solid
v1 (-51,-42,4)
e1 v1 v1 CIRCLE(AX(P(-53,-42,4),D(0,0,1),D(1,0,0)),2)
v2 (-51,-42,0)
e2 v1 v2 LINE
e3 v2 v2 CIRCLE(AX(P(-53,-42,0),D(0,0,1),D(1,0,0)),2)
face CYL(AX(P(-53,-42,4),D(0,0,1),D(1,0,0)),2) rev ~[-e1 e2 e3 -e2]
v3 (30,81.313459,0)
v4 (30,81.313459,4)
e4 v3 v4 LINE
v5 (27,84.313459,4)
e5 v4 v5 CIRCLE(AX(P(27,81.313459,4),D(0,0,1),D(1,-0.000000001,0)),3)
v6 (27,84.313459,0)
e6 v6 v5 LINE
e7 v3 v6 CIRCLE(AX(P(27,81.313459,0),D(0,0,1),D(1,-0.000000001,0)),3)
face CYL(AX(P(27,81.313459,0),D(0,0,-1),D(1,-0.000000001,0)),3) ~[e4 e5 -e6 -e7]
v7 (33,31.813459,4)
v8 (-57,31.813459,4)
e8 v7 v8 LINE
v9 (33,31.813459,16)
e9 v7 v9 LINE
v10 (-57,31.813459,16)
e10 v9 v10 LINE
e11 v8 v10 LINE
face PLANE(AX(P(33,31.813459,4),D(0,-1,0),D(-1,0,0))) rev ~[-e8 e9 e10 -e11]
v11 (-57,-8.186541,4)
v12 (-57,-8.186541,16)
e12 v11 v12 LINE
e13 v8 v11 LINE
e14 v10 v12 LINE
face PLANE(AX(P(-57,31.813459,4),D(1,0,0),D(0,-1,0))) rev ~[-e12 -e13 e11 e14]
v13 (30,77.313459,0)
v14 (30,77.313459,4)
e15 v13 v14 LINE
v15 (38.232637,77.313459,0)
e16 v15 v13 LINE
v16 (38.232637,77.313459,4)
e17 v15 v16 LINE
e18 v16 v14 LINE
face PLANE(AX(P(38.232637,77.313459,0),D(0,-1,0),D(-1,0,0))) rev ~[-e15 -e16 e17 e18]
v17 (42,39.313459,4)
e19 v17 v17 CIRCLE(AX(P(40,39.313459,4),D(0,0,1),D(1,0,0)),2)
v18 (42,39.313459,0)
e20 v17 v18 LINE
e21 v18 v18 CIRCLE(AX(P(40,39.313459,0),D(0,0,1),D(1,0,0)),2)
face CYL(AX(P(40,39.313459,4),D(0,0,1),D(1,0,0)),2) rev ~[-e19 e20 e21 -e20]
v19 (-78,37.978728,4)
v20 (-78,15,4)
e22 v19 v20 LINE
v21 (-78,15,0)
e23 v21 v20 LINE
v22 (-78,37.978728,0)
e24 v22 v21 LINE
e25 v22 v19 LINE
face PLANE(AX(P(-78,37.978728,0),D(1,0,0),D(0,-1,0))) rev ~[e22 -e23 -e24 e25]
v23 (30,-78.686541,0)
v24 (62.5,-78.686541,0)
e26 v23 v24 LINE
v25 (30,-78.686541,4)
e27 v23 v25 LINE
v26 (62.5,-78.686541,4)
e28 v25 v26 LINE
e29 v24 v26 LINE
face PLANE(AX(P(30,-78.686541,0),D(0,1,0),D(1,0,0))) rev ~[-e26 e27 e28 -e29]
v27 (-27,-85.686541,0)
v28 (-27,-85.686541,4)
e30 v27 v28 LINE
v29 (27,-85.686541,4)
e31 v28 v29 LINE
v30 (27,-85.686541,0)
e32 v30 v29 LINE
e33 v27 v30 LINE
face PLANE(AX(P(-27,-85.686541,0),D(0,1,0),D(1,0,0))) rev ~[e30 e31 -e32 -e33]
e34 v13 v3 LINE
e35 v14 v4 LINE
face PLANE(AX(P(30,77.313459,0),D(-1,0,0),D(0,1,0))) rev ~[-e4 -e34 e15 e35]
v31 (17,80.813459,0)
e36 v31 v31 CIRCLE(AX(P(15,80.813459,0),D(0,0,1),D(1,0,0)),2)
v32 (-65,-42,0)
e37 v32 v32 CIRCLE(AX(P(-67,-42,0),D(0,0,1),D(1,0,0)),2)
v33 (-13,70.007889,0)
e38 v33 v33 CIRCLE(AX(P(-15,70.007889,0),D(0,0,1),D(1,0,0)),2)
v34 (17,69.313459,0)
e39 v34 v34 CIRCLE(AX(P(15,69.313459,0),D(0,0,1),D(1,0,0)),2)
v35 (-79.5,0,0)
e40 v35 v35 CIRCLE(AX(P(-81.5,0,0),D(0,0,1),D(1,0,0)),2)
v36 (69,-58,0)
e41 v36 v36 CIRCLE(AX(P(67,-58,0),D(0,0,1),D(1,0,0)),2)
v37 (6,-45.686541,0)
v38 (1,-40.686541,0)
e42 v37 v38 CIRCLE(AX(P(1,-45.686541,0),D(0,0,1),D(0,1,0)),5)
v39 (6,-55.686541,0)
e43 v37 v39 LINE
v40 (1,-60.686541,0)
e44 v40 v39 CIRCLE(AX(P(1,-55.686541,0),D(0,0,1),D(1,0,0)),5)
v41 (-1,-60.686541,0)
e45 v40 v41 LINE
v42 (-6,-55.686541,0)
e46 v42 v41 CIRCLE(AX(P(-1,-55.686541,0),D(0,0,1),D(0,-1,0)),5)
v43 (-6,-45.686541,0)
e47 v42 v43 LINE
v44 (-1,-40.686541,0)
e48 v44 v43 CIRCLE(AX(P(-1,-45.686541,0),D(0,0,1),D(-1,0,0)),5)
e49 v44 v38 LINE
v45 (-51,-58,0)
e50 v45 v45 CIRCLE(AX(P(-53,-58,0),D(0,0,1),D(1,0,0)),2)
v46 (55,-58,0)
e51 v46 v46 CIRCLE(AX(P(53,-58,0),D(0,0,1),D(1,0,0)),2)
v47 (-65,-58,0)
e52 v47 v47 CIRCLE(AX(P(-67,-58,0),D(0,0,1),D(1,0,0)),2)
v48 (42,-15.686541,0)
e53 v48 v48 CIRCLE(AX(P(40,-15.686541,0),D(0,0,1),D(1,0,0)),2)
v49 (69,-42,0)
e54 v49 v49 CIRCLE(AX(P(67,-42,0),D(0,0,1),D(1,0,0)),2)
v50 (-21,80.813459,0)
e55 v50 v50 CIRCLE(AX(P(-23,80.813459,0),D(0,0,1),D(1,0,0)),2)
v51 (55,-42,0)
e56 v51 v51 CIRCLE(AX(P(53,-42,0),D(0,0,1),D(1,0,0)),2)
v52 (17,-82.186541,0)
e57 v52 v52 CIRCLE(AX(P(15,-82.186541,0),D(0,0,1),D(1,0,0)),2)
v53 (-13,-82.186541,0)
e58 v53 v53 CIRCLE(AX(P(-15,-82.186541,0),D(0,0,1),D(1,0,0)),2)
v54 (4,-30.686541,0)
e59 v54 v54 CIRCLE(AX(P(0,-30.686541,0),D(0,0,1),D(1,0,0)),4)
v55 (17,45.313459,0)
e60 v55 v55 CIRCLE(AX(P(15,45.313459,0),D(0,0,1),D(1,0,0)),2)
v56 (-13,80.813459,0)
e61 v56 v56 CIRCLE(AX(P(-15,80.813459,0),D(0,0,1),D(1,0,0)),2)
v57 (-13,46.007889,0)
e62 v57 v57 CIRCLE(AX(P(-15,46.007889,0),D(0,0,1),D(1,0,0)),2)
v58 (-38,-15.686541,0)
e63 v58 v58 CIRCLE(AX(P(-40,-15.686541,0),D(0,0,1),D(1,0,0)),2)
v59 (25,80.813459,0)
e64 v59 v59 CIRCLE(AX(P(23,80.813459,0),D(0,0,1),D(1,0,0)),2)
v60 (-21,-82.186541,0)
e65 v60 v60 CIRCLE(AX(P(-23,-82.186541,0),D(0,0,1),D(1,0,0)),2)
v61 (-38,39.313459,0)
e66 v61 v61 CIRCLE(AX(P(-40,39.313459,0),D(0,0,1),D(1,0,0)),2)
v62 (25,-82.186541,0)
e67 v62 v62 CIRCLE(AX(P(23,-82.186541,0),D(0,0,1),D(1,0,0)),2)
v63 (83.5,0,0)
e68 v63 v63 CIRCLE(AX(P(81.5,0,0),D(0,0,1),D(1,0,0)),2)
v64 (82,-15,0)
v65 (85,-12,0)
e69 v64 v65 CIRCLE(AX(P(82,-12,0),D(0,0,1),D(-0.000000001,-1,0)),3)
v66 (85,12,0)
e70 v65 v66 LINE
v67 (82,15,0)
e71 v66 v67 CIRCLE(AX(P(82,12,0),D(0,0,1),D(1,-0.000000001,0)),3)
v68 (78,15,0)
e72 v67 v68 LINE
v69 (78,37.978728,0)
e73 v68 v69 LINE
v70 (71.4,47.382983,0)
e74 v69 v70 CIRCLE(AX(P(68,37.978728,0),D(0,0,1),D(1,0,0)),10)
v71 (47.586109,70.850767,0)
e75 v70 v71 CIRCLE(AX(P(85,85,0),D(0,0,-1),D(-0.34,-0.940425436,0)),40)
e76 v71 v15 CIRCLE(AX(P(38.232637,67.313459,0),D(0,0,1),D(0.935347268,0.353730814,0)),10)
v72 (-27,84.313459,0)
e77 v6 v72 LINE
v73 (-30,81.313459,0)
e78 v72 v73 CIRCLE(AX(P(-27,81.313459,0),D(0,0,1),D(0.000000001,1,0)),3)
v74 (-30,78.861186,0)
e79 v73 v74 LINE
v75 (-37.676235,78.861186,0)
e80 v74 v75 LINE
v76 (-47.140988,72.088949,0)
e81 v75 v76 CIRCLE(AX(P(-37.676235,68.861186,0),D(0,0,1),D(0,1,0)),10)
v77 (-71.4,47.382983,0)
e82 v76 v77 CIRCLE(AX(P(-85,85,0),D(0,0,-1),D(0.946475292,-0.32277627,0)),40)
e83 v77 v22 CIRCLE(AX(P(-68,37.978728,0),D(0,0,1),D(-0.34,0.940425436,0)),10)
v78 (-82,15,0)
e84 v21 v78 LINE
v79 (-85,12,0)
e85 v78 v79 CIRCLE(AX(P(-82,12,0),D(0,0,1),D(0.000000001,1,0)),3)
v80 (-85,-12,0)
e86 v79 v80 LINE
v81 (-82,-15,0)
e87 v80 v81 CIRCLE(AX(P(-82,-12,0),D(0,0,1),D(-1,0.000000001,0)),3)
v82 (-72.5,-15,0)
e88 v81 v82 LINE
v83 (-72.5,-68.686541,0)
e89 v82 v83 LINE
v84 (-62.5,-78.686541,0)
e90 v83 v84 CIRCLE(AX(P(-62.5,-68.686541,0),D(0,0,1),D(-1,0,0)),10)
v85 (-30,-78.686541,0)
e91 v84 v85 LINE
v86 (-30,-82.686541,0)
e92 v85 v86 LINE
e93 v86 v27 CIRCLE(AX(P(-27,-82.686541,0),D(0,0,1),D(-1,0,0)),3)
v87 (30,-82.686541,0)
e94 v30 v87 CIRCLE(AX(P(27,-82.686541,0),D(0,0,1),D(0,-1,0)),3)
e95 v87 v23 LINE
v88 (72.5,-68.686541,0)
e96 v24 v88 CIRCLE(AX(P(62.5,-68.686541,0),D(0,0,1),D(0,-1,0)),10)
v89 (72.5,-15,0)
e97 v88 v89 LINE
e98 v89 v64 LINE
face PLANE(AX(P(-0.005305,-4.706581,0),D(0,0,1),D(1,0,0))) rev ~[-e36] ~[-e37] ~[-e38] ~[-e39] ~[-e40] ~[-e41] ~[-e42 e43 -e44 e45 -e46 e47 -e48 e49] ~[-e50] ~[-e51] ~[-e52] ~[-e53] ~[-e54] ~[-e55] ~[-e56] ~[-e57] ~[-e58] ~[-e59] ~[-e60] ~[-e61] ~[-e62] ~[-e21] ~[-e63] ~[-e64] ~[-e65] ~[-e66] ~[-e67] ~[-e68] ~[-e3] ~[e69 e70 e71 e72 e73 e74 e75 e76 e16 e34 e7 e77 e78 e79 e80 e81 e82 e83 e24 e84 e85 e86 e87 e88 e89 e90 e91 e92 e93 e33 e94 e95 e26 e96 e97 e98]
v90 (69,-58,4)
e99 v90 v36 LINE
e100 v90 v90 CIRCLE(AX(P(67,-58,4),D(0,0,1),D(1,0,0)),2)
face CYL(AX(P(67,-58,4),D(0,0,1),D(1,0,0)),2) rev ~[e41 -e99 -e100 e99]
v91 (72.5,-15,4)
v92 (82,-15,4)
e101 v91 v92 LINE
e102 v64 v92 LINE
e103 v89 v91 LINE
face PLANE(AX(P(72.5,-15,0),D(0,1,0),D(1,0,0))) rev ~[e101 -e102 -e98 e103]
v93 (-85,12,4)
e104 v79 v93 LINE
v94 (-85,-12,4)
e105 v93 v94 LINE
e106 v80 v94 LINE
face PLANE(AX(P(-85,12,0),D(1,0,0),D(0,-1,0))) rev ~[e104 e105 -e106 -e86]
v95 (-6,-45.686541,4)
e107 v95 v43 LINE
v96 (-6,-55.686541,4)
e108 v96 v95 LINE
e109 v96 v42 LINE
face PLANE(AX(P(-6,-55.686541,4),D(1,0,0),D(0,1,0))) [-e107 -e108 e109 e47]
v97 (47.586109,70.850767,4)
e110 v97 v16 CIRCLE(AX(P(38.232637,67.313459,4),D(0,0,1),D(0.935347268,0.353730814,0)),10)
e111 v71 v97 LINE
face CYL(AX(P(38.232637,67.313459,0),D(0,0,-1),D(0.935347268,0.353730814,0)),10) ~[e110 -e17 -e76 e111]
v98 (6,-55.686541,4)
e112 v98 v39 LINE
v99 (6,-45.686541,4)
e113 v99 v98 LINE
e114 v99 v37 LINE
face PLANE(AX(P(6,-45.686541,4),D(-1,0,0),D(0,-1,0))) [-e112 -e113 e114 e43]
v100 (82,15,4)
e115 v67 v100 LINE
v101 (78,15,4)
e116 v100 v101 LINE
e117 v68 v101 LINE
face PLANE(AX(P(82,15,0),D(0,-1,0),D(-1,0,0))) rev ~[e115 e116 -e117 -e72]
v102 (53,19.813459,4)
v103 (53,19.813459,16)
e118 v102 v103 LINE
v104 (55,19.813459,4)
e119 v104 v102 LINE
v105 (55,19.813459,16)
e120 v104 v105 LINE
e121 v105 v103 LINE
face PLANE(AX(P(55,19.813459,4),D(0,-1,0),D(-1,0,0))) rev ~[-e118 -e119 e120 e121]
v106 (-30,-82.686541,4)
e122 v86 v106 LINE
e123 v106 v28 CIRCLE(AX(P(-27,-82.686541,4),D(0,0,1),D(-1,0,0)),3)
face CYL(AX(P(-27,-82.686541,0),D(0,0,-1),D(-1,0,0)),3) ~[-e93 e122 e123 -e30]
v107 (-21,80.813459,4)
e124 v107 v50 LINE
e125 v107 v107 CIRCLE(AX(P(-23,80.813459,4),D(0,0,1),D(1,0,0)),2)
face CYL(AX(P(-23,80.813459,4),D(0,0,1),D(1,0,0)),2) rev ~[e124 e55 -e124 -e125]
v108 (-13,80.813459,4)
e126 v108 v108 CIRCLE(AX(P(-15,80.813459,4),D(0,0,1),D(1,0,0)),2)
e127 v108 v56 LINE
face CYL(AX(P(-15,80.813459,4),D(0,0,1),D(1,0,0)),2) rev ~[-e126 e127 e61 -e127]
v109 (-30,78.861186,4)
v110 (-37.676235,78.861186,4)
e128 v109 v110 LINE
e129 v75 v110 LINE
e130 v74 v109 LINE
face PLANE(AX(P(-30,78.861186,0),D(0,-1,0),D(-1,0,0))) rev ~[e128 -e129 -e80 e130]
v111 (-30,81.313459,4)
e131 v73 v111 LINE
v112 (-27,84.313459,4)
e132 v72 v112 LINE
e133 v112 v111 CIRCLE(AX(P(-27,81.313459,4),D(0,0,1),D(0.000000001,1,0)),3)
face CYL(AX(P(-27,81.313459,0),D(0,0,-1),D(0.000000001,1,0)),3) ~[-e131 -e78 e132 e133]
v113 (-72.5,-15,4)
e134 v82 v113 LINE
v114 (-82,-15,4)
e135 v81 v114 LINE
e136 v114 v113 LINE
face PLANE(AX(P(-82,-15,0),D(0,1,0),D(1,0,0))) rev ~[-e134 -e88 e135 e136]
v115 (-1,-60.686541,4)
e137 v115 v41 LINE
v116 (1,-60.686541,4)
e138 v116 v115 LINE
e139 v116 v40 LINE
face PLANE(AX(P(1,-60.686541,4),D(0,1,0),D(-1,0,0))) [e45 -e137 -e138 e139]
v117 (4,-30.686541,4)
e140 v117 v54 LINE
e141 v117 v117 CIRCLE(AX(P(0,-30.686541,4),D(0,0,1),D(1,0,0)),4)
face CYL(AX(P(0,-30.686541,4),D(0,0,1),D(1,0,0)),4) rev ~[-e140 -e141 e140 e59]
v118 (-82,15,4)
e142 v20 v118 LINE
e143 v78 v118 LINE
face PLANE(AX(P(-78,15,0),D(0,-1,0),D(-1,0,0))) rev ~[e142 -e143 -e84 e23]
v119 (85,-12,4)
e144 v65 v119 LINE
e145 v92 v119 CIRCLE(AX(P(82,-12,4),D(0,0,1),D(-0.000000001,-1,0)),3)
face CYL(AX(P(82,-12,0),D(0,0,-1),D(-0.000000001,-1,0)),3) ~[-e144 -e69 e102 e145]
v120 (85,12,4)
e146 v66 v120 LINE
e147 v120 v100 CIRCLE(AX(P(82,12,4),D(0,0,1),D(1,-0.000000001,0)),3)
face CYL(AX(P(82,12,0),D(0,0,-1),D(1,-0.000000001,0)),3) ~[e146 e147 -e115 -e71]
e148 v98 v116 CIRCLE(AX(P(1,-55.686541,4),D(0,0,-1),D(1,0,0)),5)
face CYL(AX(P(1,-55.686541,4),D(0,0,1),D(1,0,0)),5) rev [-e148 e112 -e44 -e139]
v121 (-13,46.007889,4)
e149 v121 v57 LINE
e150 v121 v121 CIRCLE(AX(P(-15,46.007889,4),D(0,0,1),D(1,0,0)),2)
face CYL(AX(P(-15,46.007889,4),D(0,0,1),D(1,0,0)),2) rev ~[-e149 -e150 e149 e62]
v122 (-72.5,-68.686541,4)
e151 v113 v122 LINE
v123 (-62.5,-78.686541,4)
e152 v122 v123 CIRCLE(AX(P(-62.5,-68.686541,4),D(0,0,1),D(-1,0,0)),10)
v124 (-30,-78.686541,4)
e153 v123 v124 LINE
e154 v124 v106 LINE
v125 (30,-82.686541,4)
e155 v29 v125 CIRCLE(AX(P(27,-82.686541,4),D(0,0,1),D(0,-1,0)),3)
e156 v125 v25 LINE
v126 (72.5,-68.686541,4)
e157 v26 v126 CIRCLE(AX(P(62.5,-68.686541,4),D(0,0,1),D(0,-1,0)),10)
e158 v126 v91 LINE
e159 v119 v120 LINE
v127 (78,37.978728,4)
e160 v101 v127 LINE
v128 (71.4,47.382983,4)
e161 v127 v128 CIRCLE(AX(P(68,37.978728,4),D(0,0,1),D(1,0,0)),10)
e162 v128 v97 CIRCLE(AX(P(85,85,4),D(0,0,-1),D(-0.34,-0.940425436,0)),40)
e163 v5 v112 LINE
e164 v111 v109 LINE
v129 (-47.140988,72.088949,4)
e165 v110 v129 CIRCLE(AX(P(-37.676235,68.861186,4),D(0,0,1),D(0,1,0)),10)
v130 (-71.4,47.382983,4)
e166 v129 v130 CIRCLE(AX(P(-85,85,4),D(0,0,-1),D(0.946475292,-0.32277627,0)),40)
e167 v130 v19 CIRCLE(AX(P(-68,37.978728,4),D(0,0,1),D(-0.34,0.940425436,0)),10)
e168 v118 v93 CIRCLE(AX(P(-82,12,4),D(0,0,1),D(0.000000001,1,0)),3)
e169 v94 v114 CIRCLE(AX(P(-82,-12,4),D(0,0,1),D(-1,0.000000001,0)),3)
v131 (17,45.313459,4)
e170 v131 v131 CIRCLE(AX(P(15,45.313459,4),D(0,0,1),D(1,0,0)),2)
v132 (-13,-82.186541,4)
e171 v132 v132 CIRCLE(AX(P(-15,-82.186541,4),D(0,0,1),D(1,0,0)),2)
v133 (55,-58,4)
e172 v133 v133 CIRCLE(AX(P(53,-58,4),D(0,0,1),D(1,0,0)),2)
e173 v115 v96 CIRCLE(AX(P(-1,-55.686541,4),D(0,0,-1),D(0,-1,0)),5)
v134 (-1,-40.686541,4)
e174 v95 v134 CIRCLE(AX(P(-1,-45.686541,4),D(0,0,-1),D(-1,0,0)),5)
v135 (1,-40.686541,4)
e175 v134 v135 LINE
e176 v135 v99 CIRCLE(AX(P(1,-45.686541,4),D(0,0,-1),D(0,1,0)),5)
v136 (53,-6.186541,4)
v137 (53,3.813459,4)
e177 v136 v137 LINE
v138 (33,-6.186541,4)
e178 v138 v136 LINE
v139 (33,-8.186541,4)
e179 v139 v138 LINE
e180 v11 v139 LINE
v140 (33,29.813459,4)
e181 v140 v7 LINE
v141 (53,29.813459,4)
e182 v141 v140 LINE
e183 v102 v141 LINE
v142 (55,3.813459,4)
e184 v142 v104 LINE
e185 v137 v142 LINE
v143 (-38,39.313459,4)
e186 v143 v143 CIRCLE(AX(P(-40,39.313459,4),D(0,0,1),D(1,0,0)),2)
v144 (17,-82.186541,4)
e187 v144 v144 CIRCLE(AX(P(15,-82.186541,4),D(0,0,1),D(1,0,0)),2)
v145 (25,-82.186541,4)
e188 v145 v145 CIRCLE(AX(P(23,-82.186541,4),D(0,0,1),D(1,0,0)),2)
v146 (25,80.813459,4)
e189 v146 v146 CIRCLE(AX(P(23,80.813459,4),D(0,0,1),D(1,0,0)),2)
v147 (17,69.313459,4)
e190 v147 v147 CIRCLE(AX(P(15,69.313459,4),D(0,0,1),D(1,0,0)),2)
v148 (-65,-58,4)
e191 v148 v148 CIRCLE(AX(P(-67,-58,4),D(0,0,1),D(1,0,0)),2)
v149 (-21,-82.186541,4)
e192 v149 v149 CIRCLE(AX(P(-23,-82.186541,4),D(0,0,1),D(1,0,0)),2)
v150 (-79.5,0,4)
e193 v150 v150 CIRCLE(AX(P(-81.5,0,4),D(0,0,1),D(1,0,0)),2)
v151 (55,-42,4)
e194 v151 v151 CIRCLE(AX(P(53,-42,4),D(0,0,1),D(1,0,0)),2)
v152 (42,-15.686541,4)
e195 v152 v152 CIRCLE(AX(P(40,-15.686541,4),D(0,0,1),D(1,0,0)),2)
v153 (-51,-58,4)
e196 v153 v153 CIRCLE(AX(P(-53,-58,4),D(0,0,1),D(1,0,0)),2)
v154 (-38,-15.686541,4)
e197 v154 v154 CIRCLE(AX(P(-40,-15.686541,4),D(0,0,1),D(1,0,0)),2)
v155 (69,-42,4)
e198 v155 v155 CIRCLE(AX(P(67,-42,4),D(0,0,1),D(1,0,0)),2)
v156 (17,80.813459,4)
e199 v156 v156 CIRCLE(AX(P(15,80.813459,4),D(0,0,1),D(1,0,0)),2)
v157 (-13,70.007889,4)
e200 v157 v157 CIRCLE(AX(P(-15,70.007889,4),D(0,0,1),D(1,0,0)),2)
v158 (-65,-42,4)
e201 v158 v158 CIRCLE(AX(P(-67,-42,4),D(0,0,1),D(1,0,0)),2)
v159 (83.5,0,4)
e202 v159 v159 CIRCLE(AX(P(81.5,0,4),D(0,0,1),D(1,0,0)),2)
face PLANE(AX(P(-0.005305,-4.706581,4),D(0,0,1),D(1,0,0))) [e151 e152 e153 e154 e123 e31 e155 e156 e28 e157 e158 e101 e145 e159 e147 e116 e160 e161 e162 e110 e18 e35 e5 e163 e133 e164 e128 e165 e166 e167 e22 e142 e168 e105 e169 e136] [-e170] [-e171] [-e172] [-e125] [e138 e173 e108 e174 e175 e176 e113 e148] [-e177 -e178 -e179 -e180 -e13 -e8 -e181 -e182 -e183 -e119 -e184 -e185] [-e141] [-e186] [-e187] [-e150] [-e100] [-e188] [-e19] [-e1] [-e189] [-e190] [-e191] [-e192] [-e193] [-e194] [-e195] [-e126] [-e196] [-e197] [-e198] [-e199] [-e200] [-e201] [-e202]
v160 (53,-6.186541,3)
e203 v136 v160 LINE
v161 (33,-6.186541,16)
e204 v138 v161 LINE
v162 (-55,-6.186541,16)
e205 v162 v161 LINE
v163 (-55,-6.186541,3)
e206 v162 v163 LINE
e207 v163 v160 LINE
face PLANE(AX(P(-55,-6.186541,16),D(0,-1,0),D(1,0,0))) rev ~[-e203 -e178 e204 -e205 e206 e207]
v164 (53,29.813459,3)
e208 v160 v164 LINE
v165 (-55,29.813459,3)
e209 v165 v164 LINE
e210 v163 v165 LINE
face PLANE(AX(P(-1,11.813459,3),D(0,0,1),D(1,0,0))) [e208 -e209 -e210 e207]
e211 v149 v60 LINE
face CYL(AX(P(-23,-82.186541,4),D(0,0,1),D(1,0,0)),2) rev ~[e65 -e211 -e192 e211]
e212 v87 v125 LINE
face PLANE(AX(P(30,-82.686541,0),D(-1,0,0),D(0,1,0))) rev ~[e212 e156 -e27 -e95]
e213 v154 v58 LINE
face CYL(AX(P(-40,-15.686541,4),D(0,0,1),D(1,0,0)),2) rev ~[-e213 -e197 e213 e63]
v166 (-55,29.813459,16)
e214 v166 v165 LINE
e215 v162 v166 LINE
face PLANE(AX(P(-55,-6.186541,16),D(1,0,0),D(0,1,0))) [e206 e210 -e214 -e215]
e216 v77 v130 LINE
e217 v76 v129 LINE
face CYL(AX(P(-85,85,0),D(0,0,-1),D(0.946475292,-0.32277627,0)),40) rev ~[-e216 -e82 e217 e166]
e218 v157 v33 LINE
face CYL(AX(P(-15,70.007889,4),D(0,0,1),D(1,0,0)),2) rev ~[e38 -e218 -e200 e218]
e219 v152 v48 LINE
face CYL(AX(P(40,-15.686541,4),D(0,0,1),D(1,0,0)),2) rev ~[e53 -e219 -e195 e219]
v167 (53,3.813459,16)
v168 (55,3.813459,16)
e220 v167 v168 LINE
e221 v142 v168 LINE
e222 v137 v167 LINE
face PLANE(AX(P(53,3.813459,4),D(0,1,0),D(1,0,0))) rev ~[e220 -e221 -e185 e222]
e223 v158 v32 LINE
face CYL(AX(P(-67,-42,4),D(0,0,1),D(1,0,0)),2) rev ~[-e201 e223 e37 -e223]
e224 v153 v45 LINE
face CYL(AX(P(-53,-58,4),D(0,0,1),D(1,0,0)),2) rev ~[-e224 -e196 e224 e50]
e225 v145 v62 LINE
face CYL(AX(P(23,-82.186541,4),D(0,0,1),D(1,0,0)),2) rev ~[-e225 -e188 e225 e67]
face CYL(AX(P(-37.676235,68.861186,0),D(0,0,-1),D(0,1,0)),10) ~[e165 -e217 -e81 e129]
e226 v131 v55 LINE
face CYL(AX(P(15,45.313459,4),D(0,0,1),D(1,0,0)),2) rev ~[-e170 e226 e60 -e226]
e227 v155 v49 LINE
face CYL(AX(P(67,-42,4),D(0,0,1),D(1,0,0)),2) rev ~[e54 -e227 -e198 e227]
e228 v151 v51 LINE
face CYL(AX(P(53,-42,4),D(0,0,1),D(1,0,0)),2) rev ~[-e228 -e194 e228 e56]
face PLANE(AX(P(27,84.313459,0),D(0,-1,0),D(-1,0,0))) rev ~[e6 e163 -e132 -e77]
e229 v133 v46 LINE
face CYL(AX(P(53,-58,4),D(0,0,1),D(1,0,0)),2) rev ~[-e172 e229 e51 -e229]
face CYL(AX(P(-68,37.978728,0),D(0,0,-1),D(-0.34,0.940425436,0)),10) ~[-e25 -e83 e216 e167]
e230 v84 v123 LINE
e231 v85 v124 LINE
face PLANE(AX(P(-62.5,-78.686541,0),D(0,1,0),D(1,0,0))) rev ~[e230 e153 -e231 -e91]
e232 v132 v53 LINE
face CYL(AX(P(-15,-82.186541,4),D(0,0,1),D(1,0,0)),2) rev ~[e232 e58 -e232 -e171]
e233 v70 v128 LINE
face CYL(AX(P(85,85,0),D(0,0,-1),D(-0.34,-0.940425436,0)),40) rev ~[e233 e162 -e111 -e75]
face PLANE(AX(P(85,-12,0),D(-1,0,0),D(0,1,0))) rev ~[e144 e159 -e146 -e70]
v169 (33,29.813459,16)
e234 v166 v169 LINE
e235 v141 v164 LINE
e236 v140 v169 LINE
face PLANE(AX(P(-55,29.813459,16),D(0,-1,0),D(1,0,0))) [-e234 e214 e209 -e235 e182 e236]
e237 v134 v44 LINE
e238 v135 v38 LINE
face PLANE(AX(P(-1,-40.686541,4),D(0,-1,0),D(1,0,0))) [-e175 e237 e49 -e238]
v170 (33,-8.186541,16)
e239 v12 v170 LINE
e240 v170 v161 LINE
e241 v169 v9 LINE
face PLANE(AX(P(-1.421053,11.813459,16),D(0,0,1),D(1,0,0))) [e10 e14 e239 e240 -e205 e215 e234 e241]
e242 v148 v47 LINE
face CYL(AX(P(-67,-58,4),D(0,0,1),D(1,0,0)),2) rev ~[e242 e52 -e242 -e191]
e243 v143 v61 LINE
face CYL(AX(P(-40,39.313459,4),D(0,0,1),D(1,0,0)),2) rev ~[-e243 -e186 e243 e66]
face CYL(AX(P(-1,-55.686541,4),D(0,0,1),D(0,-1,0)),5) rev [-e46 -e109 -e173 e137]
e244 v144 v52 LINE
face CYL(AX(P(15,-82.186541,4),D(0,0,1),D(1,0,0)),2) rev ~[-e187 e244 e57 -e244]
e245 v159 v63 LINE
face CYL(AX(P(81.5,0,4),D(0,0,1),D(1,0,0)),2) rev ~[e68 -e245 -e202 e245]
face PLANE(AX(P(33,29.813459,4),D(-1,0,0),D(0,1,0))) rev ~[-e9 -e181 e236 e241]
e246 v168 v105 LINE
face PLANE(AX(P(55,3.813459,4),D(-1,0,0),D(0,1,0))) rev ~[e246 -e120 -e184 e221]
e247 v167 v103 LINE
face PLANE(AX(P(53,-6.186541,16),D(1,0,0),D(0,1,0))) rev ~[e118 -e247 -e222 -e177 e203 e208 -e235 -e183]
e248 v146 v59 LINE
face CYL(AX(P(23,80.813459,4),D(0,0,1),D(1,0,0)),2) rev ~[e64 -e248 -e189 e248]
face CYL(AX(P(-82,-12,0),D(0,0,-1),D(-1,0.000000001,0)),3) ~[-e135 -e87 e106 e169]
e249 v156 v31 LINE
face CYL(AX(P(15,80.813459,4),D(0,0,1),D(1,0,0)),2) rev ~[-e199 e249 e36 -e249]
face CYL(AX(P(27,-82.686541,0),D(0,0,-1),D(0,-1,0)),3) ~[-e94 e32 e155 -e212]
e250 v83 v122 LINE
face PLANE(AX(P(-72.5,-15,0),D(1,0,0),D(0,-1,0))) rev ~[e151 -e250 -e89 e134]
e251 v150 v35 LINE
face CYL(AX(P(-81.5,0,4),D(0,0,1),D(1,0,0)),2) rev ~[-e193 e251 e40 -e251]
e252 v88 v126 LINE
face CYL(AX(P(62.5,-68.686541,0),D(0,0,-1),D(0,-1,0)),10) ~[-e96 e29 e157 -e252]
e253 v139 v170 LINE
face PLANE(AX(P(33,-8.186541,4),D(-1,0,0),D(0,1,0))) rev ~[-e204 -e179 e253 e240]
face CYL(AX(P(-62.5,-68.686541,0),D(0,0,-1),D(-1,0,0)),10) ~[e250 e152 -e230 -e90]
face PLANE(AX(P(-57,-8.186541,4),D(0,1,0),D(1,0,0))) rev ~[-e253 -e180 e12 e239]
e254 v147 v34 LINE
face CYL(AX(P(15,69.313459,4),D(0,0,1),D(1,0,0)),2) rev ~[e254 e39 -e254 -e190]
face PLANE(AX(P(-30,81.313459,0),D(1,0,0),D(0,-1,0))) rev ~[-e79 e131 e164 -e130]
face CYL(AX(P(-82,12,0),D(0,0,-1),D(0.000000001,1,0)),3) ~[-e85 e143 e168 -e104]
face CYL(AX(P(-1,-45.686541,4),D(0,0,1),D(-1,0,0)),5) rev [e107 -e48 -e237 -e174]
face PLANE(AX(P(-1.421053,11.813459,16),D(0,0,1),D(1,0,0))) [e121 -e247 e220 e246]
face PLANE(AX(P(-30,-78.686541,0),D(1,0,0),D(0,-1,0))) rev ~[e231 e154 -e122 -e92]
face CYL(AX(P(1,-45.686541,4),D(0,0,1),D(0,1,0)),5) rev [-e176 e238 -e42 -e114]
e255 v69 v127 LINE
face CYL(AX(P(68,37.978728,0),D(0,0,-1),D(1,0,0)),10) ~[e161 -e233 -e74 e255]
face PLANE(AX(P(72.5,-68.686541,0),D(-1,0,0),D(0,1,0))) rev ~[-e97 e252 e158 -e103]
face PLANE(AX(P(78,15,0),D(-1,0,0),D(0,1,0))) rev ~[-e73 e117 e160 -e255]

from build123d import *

# Parameters (mm, degrees)
BOSS_EXTRUDE1_DEPTH = 4
SKETCH2_R           = 2
SKETCH2_R_2         = 4
CUT_EXTRUDE1_DEPTH  = 5
BOSS_EXTRUDE2_DEPTH = 12
SKETCH5_W           = 108
SKETCH5_H           = 36
CUT_EXTRUDE3_DEPTH  = 13


with BuildPart() as part:
    # Sketch1 → Boss-Extrude1 (new body)
    with BuildSketch(Plane.XY):
        with BuildLine():
            Line((82, 15), (78, 15))
            Line((78, 15), (78, 37.978728218))
            ThreePointArc((78, 37.978728218), (76.185352772, 43.723290865), (71.4, 47.382982574))
            ThreePointArc((71.4, 47.382982574), (56.923524203, 56.509448815), (47.586109287, 70.850767451))
            ThreePointArc((47.586109287, 70.850767451), (43.91712949, 75.540642349), (38.232636609, 77.313459314))
            Line((38.232636609, 77.313459314), (30, 77.313459314))
            Line((30, 77.313459314), (30, 81.313459314))
            ThreePointArc((30, 81.313459314), (29.121320344, 83.434779658), (27, 84.313459314))
            Line((27, 84.313459314), (-27, 84.313459314))
            ThreePointArc((-27, 84.313459314), (-29.121320344, 83.434779658), (-30, 81.313459314))
            Line((-30, 81.313459314), (-30, 78.861186474))
            Line((-30, 78.861186474), (-37.676235378, 78.861186474))
            ThreePointArc((-37.676235378, 78.861186474), (-43.495271937, 76.993763774), (-47.140988303, 72.08894918))
            ThreePointArc((-47.140988303, 72.08894918), (-56.458737454, 56.975076587), (-71.4, 47.382982574))
            ThreePointArc((-71.4, 47.382982574), (-76.185352772, 43.723290865), (-78, 37.978728218))
            Line((-78, 37.978728218), (-78, 15))
            Line((-78, 15), (-82, 15))
            ThreePointArc((-82, 15), (-84.121320344, 14.121320344), (-85, 12))
            Line((-85, 12), (-85, -12))
            ThreePointArc((-85, -12), (-84.121320344, -14.121320344), (-82, -15))
            Line((-82, -15), (-72.5, -15))
            Line((-72.5, -15), (-72.5, -68.686540686))
            ThreePointArc((-72.5, -68.686540686), (-69.571067812, -75.757608498), (-62.5, -78.686540686))
            Line((-62.5, -78.686540686), (-30, -78.686540686))
            Line((-30, -78.686540686), (-30, -82.686540686))
            ThreePointArc((-30, -82.686540686), (-29.121320344, -84.807861029), (-27, -85.686540686))
            Line((-27, -85.686540686), (27, -85.686540686))
            ThreePointArc((27, -85.686540686), (29.121320344, -84.807861029), (30, -82.686540686))
            Line((30, -82.686540686), (30, -78.686540686))
            Line((30, -78.686540686), (62.5, -78.686540686))
            ThreePointArc((62.5, -78.686540686), (69.571067812, -75.757608498), (72.5, -68.686540686))
            Line((72.5, -68.686540686), (72.5, -15))
            Line((72.5, -15), (82, -15))
            ThreePointArc((82, -15), (84.121320344, -14.121320344), (85, -12))
            Line((85, -12), (85, 12))
            ThreePointArc((85, 12), (84.121320344, 14.121320344), (82, 15))
        make_face()
    extrude(amount=BOSS_EXTRUDE1_DEPTH)

    # Sketch2 → Cut-Extrude1 (cut)
    with BuildSketch(Plane.XY.offset(4)):
        with Locations((81.5, 0)):
            Circle(SKETCH2_R)
        with Locations((-81.5, 0)):
            Circle(SKETCH2_R)
        with Locations((15, 80.813459314)):
            Circle(SKETCH2_R)
        with Locations((23, 80.813459314)):
            Circle(SKETCH2_R)
        with Locations((-23, 80.813459314)):
            Circle(SKETCH2_R)
        with Locations((-15, 80.813459314)):
            Circle(SKETCH2_R)
        with Locations((-23, -82.186540686)):
            Circle(SKETCH2_R)
        with Locations((-15, -82.186540686)):
            Circle(SKETCH2_R)
        with Locations((15, -82.186540686)):
            Circle(SKETCH2_R)
        with Locations((23, -82.186540686)):
            Circle(SKETCH2_R)
        with Locations((67, -42)):
            Circle(SKETCH2_R)
        with Locations((67, -58)):
            Circle(SKETCH2_R)
        with Locations((-40, -15.686540686)):
            Circle(SKETCH2_R)
        with Locations((40, -15.686540686)):
            Circle(SKETCH2_R)
        with Locations((40, 39.313459314)):
            Circle(SKETCH2_R)
        with Locations((-40, 39.313459314)):
            Circle(SKETCH2_R)
        with Locations((0, -30.686540686)):
            Circle(SKETCH2_R_2)
        with Locations((-15, 70.007888798)):
            Circle(SKETCH2_R)
        with Locations((15, 69.313459314)):
            Circle(SKETCH2_R)
        with Locations((-15, 46.007888798)):
            Circle(SKETCH2_R)
        with Locations((15, 45.313459314)):
            Circle(SKETCH2_R)
        with Locations((53, -58)):
            Circle(SKETCH2_R)
        with Locations((53, -42)):
            Circle(SKETCH2_R)
        with Locations((-53, -58)):
            Circle(SKETCH2_R)
        with Locations((-67, -58)):
            Circle(SKETCH2_R)
        with Locations((-67, -42)):
            Circle(SKETCH2_R)
        with Locations((-53, -42)):
            Circle(SKETCH2_R)
        with BuildLine():
            Line((-1, -40.686540686), (1, -40.686540686))
            ThreePointArc((1, -40.686540686), (4.535533906, -42.15100678), (6, -45.686540686))
            Line((6, -45.686540686), (6, -55.686540686))
            ThreePointArc((6, -55.686540686), (4.535533906, -59.222074592), (1, -60.686540686))
            Line((1, -60.686540686), (-1, -60.686540686))
            ThreePointArc((-1, -60.686540686), (-4.535533906, -59.222074592), (-6, -55.686540686))
            Line((-6, -55.686540686), (-6, -45.686540686))
            ThreePointArc((-6, -45.686540686), (-4.535533906, -42.15100678), (-1, -40.686540686))
        make_face()
    extrude(amount=-CUT_EXTRUDE1_DEPTH, mode=Mode.SUBTRACT)

    # Sketch3 → Boss-Extrude2 (add)
    with BuildSketch(Plane.XY.offset(4)):
        Polygon((-57, -8.186540686), (33, -8.186540686), (33, -6.186540686), (53, -6.186540686), (53, 3.813459314), (55, 3.813459314), (55, 19.813459314), (53, 19.813459314), (53, 29.813459314), (33, 29.813459314), (33, 31.813459314), (-57, 31.813459314), align=None)
    extrude(amount=BOSS_EXTRUDE2_DEPTH)

    # Sketch5 → Cut-Extrude3 (cut)
    with BuildSketch(Plane.XY.offset(16)):
        with Locations((-1, 11.813459314)):
            Rectangle(SKETCH5_W, SKETCH5_H)
    extrude(amount=-CUT_EXTRUDE3_DEPTH, mode=Mode.SUBTRACT)


solid = part.part
